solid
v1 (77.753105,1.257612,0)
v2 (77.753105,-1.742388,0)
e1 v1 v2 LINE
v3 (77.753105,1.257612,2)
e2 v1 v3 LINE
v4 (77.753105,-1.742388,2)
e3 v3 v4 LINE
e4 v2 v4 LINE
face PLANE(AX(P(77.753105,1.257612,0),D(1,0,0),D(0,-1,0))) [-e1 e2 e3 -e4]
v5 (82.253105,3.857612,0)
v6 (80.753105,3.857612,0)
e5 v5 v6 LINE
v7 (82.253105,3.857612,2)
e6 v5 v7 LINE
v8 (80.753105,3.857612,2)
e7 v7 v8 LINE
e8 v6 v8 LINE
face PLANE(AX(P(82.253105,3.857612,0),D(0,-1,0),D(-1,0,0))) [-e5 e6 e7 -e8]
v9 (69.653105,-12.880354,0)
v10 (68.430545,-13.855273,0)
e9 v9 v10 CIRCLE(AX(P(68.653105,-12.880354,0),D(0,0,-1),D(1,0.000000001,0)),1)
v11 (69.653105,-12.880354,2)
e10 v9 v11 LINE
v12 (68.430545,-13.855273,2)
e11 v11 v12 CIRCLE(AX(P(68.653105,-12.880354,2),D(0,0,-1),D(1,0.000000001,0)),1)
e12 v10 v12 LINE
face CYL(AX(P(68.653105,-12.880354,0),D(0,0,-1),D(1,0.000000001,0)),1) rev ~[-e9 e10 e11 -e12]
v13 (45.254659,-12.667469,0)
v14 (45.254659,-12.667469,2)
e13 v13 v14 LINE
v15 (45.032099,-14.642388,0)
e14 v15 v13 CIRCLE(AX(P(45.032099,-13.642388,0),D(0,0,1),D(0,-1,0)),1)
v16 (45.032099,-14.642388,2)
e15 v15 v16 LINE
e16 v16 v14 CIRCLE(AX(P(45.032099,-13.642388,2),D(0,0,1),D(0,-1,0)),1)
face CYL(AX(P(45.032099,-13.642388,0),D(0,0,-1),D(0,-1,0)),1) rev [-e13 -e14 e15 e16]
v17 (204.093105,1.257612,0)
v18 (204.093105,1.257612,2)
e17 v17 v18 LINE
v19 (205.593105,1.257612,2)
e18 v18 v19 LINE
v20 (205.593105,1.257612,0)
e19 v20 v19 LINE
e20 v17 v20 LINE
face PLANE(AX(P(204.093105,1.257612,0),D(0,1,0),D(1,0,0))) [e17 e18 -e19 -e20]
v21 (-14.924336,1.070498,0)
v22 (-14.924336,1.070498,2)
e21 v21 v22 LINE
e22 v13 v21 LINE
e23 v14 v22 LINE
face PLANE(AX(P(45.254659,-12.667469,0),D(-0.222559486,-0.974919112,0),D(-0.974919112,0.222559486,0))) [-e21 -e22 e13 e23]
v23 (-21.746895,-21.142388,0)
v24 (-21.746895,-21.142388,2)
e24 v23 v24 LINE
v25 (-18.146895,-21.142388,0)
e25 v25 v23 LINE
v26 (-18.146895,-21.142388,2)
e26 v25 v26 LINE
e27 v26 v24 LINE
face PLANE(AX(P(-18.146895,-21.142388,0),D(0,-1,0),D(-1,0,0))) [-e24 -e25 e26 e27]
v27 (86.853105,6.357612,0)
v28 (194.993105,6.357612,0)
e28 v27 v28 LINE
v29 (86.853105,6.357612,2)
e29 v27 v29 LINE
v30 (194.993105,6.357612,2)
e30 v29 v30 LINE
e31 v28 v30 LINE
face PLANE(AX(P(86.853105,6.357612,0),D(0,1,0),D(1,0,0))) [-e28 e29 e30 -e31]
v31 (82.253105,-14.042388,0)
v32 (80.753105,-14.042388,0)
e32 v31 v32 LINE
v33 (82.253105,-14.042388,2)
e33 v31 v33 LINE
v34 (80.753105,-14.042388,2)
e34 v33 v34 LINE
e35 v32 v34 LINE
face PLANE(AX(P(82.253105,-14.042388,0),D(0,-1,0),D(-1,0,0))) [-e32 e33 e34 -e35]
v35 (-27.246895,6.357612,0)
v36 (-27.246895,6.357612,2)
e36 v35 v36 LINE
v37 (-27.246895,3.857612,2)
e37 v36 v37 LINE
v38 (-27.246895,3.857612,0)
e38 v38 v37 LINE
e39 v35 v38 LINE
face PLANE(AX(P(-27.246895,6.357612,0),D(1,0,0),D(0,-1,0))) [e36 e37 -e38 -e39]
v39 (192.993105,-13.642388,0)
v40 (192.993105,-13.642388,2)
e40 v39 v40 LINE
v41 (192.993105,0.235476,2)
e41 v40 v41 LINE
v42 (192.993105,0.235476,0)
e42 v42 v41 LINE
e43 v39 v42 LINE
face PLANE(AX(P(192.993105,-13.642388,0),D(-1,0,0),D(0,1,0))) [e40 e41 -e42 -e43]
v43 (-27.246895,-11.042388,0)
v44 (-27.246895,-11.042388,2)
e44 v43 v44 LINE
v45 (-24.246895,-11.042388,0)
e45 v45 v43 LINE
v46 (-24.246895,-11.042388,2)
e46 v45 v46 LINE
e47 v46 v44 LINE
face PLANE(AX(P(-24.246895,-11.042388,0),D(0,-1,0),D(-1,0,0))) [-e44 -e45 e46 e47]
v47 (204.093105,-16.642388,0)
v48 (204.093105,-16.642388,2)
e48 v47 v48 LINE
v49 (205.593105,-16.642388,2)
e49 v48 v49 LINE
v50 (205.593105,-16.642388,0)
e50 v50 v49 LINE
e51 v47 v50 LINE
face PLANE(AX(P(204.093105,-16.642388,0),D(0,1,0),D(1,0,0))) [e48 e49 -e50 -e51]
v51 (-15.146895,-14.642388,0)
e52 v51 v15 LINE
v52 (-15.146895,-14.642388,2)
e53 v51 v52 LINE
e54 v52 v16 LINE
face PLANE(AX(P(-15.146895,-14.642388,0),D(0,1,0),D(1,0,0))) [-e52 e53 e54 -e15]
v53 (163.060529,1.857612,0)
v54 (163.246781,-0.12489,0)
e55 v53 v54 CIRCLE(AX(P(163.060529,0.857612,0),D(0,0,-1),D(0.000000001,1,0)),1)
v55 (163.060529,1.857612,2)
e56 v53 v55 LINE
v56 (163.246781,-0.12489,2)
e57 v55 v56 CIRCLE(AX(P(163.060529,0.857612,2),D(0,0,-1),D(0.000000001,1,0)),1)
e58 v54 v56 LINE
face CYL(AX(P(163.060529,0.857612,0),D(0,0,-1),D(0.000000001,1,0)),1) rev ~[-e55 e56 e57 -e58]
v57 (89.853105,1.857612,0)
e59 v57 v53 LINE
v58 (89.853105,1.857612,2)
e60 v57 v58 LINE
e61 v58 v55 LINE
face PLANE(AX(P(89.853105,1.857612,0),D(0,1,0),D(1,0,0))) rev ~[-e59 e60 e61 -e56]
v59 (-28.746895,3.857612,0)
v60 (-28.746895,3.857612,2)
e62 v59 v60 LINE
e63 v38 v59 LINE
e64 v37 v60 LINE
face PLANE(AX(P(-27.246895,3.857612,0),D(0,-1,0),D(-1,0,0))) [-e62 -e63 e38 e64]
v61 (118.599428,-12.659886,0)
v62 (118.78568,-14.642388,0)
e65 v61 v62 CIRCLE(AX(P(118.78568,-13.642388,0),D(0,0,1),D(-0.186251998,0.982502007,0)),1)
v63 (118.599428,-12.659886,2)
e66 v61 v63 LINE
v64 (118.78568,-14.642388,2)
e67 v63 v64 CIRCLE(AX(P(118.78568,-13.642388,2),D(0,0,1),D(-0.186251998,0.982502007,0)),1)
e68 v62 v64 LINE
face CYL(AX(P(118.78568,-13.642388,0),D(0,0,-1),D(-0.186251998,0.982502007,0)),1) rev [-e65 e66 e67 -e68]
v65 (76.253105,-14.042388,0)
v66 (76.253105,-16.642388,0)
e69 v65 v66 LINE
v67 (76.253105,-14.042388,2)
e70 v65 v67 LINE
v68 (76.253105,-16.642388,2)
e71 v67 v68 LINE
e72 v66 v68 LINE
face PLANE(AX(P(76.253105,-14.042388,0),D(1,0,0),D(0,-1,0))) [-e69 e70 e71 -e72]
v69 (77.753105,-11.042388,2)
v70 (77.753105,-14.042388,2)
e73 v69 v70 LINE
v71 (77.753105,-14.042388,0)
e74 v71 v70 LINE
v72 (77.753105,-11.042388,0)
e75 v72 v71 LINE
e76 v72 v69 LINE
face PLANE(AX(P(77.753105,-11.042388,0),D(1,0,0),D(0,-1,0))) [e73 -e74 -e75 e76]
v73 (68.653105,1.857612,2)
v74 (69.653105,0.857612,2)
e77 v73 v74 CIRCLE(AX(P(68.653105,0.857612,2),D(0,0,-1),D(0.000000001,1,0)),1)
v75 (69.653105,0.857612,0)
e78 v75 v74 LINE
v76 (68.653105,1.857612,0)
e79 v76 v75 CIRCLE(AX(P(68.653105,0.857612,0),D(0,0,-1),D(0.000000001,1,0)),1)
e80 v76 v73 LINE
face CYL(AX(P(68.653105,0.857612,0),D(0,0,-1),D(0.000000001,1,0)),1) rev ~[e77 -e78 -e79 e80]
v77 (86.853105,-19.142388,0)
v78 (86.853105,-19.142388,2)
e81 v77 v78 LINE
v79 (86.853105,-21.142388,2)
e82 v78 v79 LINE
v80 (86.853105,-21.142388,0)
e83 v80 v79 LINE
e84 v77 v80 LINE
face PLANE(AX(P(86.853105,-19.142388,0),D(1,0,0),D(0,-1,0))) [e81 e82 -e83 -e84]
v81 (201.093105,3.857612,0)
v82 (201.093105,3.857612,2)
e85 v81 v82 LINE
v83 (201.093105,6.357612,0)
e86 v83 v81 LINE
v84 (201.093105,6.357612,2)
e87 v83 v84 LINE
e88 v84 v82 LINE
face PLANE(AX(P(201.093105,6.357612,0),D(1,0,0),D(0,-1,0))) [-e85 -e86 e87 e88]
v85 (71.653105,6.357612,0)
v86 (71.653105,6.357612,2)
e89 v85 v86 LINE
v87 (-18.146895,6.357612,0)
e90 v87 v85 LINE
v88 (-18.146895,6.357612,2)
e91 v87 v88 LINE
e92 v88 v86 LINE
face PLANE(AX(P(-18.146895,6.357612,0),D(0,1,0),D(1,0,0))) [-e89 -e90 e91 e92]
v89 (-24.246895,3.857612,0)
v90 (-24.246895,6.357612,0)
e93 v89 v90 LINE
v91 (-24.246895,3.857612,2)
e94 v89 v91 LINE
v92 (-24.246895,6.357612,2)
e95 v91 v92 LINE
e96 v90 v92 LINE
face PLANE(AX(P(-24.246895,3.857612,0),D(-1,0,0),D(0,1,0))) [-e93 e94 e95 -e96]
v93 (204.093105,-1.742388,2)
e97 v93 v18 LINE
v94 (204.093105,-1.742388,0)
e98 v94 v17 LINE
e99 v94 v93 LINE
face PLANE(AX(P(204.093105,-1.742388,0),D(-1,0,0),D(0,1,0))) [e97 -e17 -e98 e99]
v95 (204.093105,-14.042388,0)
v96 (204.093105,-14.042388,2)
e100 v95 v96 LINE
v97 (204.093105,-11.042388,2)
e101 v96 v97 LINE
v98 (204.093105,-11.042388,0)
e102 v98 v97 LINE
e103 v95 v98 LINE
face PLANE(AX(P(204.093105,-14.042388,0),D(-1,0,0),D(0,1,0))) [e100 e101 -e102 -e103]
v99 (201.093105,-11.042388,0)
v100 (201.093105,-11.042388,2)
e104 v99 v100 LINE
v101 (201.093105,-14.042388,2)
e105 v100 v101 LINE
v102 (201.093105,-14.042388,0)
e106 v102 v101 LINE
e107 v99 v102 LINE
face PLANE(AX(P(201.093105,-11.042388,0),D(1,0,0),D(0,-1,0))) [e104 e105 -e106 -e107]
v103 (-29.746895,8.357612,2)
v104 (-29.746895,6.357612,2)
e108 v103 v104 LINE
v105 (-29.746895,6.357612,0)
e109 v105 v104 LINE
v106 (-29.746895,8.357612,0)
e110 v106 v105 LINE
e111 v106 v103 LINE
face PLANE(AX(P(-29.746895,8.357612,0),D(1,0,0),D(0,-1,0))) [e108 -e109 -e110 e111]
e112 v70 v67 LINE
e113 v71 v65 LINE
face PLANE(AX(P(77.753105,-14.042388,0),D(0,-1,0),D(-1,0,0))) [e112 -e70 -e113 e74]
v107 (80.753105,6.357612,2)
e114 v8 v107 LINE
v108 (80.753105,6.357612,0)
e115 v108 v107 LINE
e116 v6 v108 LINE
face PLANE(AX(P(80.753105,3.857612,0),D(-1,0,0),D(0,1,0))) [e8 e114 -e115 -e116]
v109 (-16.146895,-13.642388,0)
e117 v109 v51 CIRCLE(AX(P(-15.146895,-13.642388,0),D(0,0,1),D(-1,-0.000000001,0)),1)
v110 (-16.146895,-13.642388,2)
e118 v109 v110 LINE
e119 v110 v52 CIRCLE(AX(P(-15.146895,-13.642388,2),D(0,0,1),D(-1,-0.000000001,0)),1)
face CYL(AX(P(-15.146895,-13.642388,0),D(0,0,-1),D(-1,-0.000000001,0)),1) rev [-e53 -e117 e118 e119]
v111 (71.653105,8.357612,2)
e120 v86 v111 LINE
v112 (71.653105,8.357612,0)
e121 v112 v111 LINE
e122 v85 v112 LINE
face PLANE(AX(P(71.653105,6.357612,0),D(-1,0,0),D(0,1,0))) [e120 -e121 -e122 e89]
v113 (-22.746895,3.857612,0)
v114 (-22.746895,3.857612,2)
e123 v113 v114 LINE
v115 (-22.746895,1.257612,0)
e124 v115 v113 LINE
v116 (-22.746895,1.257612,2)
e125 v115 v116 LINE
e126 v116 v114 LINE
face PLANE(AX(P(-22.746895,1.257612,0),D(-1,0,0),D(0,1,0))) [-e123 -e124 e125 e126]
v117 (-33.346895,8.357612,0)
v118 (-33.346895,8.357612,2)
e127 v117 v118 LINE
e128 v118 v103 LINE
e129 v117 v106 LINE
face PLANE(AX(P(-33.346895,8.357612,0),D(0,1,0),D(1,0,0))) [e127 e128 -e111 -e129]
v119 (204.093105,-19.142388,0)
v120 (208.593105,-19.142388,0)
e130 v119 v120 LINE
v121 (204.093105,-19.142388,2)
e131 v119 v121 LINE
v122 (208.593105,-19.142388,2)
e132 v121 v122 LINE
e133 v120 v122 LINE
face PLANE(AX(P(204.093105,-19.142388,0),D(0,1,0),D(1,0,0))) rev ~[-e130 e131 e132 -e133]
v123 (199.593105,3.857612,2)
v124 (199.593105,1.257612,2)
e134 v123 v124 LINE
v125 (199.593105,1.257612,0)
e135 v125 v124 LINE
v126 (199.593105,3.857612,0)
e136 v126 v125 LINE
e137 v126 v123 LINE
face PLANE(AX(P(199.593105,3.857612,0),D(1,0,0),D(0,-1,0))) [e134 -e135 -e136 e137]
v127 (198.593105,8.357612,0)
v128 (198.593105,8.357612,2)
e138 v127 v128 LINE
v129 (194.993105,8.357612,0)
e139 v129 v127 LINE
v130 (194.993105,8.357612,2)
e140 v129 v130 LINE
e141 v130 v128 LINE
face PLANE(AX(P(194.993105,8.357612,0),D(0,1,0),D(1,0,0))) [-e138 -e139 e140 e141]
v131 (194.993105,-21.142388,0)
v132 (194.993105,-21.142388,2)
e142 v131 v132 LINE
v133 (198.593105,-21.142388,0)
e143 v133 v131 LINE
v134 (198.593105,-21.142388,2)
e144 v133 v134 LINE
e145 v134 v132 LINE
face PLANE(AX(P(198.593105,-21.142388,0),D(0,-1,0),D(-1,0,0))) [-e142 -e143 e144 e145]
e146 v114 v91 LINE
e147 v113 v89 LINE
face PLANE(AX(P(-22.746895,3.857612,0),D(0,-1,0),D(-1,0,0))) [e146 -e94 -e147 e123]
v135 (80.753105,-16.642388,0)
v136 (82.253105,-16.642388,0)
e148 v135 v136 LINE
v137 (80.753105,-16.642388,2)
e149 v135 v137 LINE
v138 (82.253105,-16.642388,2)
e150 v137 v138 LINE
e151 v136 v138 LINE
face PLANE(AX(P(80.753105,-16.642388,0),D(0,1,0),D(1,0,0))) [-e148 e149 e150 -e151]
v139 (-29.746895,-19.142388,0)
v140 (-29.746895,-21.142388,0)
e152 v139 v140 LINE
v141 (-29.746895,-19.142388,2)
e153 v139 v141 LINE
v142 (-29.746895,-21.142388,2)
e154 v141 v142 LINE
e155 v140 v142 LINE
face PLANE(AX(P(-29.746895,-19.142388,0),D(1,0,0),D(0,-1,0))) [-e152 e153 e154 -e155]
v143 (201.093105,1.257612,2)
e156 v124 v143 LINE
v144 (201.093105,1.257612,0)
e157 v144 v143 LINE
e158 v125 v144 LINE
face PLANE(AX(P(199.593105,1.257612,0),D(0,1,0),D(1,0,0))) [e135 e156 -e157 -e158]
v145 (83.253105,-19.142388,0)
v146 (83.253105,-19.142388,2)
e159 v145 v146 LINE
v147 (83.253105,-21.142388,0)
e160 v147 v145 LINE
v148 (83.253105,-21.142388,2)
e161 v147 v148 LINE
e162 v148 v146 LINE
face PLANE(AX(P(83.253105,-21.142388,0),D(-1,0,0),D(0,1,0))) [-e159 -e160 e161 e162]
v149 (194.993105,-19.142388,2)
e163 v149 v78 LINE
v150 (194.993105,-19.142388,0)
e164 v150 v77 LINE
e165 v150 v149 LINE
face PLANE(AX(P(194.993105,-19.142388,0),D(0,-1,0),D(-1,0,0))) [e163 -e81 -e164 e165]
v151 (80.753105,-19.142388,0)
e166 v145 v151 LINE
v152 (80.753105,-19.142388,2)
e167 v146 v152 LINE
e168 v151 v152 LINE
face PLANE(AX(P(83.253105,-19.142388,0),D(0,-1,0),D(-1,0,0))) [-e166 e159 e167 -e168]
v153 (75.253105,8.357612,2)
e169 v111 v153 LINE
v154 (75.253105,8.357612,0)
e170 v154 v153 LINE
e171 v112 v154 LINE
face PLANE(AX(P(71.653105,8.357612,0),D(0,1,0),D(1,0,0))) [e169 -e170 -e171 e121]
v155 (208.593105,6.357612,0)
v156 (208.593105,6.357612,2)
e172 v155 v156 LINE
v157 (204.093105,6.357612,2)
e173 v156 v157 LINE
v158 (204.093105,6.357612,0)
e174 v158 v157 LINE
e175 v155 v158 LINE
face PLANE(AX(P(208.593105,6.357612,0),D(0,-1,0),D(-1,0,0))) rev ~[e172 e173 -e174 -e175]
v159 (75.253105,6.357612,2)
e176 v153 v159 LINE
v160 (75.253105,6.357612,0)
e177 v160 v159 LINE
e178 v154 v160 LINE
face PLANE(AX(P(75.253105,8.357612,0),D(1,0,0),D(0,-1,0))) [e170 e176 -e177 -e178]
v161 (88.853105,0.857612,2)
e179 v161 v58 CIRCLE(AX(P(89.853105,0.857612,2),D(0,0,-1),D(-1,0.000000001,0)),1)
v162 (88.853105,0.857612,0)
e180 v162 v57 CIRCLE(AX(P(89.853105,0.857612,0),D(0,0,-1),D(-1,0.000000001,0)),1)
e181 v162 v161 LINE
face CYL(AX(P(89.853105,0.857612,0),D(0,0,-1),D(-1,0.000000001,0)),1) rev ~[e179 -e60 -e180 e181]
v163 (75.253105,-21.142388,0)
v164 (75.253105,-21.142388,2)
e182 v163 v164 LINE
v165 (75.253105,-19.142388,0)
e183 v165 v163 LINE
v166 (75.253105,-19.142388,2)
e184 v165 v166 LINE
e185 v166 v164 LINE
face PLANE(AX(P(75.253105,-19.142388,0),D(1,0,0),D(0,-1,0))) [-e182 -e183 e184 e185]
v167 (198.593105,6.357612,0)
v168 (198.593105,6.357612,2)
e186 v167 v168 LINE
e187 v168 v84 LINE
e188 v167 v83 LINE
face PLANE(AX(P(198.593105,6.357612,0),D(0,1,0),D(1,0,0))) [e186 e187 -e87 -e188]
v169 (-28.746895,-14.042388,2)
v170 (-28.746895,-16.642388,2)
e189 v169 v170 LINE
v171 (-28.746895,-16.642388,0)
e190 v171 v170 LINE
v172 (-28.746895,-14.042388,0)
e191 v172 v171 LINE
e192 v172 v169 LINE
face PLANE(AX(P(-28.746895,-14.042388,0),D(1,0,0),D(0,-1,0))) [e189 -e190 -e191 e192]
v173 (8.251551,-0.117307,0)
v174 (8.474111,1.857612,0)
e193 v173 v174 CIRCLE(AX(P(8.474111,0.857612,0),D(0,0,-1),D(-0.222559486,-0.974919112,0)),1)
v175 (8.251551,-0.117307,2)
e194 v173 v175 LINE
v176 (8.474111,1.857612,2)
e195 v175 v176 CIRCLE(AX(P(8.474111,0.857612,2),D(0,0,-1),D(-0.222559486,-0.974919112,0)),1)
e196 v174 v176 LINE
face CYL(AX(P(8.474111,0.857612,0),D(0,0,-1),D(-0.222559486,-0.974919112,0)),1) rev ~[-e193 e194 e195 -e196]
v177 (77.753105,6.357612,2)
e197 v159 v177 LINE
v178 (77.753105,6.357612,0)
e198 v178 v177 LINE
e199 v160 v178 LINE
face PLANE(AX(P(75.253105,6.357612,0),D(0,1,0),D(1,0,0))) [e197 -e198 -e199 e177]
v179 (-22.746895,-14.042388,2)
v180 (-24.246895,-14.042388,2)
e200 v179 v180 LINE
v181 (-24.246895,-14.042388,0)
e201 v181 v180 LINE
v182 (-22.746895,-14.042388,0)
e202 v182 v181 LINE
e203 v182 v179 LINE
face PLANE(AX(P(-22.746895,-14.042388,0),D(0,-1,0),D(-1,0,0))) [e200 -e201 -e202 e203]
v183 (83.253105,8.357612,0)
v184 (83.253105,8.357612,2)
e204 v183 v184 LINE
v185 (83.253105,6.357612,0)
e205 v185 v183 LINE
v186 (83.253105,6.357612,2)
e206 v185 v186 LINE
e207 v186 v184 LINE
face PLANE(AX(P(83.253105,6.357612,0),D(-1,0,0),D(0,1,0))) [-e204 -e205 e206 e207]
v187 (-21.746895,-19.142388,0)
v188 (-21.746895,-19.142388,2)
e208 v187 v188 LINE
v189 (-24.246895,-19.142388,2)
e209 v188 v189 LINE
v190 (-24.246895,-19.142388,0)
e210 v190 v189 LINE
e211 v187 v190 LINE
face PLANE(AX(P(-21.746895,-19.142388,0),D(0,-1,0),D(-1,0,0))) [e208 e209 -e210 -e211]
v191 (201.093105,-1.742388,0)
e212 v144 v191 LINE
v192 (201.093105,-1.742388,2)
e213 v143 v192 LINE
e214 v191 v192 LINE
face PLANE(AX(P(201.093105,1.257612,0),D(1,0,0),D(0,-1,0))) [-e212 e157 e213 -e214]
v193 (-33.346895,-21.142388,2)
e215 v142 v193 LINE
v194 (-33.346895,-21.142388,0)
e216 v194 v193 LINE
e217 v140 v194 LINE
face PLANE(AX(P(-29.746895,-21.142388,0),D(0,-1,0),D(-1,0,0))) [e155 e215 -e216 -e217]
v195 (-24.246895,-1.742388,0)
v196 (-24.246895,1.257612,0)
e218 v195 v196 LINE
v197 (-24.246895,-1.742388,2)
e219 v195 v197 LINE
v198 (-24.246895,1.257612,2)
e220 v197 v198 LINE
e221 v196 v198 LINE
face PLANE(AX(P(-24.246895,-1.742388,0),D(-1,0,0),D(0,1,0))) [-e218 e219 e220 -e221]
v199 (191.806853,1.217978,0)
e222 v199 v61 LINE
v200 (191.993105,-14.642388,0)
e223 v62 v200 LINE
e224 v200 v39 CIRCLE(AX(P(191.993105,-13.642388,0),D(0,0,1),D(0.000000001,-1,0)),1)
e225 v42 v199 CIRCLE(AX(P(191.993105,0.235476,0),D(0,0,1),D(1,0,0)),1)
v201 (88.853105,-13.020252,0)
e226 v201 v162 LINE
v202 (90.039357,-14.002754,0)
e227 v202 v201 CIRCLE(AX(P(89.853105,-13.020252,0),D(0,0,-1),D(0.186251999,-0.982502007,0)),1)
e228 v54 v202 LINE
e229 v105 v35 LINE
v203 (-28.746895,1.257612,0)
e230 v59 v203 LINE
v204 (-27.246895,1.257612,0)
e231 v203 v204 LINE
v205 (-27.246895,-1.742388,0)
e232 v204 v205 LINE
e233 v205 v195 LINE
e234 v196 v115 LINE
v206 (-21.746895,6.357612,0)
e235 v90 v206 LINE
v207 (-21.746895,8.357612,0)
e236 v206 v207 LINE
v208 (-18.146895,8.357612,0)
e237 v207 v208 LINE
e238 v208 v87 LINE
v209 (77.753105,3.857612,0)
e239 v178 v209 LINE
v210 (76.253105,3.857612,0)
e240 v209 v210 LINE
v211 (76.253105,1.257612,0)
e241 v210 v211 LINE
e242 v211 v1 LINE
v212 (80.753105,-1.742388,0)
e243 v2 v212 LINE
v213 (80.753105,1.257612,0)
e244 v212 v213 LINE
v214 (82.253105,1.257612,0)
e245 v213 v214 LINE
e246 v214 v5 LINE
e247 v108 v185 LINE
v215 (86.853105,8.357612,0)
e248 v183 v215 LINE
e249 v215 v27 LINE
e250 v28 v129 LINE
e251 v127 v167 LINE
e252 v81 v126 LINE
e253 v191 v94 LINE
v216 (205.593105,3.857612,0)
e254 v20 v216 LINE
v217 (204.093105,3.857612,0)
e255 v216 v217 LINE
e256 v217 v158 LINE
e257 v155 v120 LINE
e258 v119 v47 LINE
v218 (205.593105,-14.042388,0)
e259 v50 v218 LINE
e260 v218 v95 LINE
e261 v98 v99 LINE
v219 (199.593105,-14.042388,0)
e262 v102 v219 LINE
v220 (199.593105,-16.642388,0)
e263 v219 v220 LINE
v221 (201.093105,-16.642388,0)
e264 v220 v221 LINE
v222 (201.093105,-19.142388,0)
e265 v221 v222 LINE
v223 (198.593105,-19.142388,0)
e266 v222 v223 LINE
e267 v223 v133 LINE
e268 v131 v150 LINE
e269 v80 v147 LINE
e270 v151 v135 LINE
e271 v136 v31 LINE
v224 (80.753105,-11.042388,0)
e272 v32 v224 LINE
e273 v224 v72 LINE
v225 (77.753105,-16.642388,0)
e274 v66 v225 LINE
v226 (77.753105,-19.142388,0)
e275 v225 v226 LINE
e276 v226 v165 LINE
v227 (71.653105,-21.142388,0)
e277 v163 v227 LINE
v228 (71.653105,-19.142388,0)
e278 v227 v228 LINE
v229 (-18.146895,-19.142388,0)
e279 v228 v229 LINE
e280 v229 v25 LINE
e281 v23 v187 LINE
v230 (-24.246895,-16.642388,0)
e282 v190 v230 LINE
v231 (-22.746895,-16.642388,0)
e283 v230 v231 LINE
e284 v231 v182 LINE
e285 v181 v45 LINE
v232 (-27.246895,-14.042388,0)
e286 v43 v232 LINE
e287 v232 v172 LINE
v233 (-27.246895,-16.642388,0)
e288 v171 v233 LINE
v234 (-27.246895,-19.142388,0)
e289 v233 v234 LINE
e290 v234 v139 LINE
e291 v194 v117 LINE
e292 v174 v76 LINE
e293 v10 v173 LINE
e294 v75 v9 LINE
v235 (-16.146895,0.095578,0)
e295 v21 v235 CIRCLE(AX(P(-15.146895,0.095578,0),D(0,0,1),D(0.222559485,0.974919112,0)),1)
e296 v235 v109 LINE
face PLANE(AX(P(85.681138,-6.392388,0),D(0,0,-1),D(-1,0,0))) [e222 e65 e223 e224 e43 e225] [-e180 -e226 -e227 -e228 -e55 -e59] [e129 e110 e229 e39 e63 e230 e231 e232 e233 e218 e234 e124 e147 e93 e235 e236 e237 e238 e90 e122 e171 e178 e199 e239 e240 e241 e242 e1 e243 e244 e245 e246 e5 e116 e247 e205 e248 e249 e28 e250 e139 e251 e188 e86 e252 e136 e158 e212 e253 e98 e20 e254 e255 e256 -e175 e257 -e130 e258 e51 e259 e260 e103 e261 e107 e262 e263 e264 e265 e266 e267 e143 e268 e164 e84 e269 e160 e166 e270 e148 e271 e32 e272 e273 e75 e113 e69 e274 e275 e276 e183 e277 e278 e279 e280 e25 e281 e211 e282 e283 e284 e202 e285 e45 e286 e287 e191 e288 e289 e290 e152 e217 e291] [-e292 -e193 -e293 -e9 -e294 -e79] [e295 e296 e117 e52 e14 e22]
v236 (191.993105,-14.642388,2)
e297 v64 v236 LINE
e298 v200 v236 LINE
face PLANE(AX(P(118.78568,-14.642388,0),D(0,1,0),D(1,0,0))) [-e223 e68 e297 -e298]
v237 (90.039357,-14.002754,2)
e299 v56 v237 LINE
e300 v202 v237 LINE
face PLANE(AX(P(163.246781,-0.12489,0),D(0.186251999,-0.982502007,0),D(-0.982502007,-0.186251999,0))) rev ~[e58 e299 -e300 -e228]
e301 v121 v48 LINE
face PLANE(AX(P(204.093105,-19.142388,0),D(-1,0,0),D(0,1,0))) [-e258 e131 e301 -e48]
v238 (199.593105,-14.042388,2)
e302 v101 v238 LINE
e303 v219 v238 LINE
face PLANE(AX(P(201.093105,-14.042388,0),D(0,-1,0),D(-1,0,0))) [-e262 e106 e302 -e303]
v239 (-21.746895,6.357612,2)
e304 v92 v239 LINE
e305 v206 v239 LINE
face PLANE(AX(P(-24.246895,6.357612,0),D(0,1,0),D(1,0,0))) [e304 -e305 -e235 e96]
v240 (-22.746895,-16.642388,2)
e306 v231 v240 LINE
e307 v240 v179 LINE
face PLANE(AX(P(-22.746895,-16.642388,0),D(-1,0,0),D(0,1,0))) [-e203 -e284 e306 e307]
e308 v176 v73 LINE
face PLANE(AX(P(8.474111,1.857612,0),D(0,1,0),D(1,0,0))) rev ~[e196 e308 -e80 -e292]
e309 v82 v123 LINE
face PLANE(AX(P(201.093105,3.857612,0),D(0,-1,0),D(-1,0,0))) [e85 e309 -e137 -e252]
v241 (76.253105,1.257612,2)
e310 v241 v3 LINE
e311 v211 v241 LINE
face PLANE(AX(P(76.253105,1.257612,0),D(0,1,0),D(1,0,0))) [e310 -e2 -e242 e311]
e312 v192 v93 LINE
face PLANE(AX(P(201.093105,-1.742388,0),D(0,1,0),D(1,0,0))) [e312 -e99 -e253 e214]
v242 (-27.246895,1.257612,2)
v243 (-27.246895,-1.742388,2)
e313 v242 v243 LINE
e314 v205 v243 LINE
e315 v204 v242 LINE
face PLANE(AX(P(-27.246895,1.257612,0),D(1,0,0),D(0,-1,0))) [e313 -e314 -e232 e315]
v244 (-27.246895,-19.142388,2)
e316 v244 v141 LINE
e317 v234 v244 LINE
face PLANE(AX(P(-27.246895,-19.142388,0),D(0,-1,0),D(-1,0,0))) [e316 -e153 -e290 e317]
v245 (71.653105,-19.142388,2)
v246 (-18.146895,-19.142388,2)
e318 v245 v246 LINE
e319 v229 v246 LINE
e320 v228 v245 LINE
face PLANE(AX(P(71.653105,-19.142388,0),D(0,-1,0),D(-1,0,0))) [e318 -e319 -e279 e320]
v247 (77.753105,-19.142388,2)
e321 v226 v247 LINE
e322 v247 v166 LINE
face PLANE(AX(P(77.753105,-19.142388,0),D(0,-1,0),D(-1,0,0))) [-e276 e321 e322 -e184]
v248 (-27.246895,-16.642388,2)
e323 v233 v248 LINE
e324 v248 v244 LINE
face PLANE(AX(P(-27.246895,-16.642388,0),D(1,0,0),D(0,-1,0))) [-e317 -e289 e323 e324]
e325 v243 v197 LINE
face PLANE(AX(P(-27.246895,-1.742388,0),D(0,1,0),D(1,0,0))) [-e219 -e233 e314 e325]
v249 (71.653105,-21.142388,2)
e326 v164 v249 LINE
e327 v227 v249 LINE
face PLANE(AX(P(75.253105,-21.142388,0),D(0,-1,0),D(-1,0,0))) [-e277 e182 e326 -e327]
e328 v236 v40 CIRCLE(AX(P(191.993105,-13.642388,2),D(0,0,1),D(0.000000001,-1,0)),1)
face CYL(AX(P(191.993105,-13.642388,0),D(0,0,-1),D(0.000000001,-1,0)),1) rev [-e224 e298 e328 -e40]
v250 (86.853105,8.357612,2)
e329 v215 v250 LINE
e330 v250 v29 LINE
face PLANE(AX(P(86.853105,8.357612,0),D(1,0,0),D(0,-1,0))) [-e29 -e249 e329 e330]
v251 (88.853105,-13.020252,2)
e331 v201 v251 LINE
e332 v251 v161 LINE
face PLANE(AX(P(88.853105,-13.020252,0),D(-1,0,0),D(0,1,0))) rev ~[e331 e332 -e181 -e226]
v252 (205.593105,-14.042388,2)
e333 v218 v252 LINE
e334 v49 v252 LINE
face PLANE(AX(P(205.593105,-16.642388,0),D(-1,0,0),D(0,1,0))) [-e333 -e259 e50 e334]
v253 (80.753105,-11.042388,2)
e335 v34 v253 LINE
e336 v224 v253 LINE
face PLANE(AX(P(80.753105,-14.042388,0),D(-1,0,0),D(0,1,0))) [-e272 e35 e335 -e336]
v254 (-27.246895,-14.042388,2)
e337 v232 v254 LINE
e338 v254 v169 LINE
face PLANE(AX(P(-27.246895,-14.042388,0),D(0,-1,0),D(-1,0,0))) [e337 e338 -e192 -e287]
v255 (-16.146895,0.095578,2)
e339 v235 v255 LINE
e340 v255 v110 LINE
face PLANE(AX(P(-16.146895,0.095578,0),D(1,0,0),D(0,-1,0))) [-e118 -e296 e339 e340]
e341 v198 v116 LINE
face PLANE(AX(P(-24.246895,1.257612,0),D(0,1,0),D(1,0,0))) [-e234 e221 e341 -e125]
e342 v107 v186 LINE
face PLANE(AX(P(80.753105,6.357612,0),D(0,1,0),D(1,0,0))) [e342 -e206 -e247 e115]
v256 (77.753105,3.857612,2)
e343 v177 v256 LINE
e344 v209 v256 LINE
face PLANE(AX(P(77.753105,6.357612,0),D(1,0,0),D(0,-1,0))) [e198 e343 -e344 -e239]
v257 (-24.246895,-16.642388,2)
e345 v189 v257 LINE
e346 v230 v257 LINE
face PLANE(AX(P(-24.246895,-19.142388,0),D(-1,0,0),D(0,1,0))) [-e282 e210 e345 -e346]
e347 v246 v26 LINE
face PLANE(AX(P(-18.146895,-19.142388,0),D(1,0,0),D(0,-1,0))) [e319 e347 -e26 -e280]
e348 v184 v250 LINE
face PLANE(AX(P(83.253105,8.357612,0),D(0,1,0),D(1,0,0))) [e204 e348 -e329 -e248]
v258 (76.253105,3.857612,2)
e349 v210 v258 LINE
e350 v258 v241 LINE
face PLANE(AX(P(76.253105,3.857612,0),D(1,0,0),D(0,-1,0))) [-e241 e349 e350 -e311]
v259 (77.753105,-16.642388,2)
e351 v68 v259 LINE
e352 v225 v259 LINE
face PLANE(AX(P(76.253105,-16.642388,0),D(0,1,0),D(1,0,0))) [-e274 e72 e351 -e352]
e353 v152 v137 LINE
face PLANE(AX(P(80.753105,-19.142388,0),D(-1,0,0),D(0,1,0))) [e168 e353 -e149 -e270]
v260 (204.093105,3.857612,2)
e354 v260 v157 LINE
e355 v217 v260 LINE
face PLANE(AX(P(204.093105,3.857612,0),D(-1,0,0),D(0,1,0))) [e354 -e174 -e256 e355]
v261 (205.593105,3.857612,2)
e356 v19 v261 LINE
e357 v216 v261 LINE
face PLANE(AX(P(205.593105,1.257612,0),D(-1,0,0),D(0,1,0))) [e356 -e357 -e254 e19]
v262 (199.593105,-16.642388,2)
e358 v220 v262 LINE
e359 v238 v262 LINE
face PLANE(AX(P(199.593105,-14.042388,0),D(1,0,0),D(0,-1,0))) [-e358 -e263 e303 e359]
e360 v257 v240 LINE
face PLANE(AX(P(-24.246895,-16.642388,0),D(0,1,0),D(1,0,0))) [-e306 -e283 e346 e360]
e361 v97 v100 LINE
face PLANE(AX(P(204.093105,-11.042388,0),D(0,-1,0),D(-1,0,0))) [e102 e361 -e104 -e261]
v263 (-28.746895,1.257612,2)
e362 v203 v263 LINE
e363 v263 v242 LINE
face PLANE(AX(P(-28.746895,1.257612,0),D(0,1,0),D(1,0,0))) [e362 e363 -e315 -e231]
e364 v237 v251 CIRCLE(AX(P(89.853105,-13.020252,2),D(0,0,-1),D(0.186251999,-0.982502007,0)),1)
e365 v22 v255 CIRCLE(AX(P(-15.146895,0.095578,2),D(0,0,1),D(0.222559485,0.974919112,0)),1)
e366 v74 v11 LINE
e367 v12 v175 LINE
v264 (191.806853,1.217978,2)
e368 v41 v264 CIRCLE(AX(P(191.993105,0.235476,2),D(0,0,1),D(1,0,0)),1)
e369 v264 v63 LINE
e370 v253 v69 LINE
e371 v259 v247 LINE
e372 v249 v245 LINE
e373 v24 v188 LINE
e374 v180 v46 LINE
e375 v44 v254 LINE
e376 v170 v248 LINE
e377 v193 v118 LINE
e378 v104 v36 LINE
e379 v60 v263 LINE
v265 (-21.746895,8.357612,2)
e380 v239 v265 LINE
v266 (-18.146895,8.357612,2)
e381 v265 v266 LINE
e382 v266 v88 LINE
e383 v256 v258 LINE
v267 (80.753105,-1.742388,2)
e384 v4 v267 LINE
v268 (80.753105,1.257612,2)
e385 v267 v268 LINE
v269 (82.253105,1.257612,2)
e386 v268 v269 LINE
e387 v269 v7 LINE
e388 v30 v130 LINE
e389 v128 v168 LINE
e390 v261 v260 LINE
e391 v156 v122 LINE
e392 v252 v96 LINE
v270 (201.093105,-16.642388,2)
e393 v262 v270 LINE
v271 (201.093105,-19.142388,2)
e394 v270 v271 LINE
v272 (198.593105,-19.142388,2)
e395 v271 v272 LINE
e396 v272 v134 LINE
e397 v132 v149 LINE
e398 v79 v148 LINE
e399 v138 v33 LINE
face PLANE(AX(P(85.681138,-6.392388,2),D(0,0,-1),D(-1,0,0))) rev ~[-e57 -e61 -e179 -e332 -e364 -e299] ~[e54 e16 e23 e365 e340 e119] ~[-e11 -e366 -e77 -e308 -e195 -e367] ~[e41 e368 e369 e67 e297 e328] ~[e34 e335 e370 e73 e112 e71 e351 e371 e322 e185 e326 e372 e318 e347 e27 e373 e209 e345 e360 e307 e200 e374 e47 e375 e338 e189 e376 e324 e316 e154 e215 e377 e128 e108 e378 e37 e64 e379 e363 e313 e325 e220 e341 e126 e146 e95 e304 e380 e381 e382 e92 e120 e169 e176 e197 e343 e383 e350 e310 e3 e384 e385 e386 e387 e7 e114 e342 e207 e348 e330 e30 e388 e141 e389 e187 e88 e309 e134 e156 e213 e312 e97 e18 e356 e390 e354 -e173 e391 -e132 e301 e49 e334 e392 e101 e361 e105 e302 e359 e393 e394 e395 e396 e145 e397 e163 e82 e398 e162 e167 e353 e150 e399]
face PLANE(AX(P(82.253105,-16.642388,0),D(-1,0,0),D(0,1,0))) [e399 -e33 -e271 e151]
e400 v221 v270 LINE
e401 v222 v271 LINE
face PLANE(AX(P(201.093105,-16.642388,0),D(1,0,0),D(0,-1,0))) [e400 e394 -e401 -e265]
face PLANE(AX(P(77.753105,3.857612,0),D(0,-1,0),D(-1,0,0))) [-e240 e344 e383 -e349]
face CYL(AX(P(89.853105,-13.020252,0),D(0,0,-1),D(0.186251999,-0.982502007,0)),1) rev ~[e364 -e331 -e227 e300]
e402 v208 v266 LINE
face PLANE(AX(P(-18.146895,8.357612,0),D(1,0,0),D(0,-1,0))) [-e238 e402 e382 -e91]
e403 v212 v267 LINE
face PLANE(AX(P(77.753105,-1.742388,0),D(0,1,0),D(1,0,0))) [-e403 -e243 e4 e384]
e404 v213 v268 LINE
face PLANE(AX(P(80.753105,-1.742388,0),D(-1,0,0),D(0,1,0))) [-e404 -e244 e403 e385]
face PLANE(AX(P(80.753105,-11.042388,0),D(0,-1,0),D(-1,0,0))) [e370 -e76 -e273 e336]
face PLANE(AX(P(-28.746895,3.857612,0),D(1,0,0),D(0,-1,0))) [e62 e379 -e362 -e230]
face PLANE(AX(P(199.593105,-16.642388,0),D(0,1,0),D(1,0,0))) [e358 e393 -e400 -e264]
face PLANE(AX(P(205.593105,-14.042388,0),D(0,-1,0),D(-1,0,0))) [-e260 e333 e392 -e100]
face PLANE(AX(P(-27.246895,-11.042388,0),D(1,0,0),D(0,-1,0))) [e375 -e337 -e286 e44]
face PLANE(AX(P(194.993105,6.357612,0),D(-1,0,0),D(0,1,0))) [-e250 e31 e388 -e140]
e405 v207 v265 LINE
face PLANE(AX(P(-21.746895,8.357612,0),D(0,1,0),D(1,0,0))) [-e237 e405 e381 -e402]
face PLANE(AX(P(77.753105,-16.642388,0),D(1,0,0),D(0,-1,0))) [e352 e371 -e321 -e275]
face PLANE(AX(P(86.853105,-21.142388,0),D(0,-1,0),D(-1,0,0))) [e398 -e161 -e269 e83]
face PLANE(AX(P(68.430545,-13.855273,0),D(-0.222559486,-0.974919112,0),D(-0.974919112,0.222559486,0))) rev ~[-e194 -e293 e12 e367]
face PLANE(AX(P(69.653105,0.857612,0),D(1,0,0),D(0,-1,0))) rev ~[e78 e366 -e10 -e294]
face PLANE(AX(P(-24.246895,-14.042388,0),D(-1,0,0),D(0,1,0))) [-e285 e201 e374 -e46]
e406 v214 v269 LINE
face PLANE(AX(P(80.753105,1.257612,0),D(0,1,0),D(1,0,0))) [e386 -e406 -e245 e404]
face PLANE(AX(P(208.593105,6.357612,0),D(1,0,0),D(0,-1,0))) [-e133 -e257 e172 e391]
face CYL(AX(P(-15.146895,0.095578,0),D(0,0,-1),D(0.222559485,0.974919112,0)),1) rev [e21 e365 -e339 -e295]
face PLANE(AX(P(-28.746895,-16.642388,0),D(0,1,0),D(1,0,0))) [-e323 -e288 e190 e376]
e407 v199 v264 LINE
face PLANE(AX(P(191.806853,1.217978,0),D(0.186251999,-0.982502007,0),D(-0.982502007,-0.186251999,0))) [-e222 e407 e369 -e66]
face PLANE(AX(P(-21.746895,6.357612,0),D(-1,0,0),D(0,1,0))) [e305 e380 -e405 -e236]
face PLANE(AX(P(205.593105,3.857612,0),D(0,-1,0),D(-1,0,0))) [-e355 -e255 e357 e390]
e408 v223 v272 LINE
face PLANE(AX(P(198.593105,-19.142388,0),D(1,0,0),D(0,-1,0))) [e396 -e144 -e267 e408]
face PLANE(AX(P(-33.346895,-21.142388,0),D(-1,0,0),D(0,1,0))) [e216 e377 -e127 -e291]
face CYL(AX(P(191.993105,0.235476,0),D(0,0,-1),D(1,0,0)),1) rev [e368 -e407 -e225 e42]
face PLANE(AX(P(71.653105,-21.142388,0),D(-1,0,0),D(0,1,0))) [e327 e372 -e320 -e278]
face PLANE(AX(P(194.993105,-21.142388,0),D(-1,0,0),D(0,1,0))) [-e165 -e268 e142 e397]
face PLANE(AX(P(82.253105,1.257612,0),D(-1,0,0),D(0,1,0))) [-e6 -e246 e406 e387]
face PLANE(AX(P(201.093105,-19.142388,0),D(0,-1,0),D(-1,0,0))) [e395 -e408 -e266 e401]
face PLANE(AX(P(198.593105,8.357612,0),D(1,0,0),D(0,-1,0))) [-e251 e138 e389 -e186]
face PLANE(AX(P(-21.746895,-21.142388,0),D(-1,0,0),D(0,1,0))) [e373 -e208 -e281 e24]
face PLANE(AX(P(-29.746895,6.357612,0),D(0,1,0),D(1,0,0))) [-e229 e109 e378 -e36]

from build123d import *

# Parameters (mm, degrees)
EXTRUDE_1_DEPTH = 2


with BuildPart() as part:
    # 草图2 → 凸台-拉伸1 (new body)
    with BuildSketch(Plane.XY):
        Polygon((-24.246895077, 6.357612039), (-21.746895077, 6.357612039), (-21.746895077, 8.357612039), (-18.146895077, 8.357612039), (-18.146895077, 6.357612039), (71.653104923, 6.357612039), (71.653104923, 8.357612039), (75.253104923, 8.357612039), (75.253104923, 6.357612039), (77.753104923, 6.357612039), (77.753104923, 3.857612039), (76.253104923, 3.857612039), (76.253104923, 1.257612039), (77.753104923, 1.257612039), (77.753104923, -1.742387961), (80.753104923, -1.742387961), (80.753104923, 1.257612039), (82.253104923, 1.257612039), (82.253104923, 3.857612039), (80.753104923, 3.857612039), (80.753104923, 6.357612039), (83.253104923, 6.357612039), (83.253104923, 8.357612039), (86.853104923, 8.357612039), (86.853104923, 6.357612039), (194.993104923, 6.357612039), (194.993104923, 8.357612039), (198.593104923, 8.357612039), (198.593104923, 6.357612039), (201.093104923, 6.357612039), (201.093104923, 3.857612039), (199.593104923, 3.857612039), (199.593104923, 1.257612039), (201.093104923, 1.257612039), (201.093104923, -1.742387961), (204.093104923, -1.742387961), (204.093104923, 1.257612039), (205.593104923, 1.257612039), (205.593104923, 3.857612039), (204.093104923, 3.857612039), (204.093104923, 6.357612039), (206.593104923, 6.357612039), (208.593104923, 6.357612039), (208.593104923, -19.142387961), (206.593104923, -19.142387961), (204.093104923, -19.142387961), (204.093104923, -16.642387961), (205.593104923, -16.642387961), (205.593104923, -14.042387961), (204.093104923, -14.042387961), (204.093104923, -11.042387961), (201.093104923, -11.042387961), (201.093104923, -14.042387961), (199.593104923, -14.042387961), (199.593104923, -16.642387961), (201.093104923, -16.642387961), (201.093104923, -19.142387961), (198.593104923, -19.142387961), (198.593104923, -21.142387961), (194.993104923, -21.142387961), (194.993104923, -19.142387961), (86.853104923, -19.142387961), (86.853104923, -21.142387961), (83.253104923, -21.142387961), (83.253104923, -19.142387961), (80.753104923, -19.142387961), (80.753104923, -16.642387961), (82.253104923, -16.642387961), (82.253104923, -14.042387961), (80.753104923, -14.042387961), (80.753104923, -11.042387961), (77.753104923, -11.042387961), (77.753104923, -14.042387961), (76.253104923, -14.042387961), (76.253104923, -16.642387961), (77.753104923, -16.642387961), (77.753104923, -19.142387961), (75.253104923, -19.142387961), (75.253104923, -21.142387961), (71.653104923, -21.142387961), (71.653104923, -19.142387961), (-18.146895077, -19.142387961), (-18.146895077, -21.142387961), (-21.746895077, -21.142387961), (-21.746895077, -19.142387961), (-24.246895077, -19.142387961), (-24.246895077, -16.642387961), (-22.746895077, -16.642387961), (-22.746895077, -14.042387961), (-24.246895077, -14.042387961), (-24.246895077, -11.042387961), (-27.246895077, -11.042387961), (-27.246895077, -14.042387961), (-28.746895077, -14.042387961), (-28.746895077, -16.642387961), (-27.246895077, -16.642387961), (-27.246895077, -19.142387961), (-29.746895077, -19.142387961), (-29.746895077, -21.142387961), (-33.346895077, -21.142387961), (-33.346895077, 8.357612039), (-29.746895077, 8.357612039), (-29.746895077, 6.357612039), (-27.246895077, 6.357612039), (-27.246895077, 3.857612039), (-28.746895077, 3.857612039), (-28.746895077, 1.257612039), (-27.246895077, 1.257612039), (-27.246895077, -1.742387961), (-24.246895077, -1.742387961), (-24.246895077, 1.257612039), (-22.746895077, 1.257612039), (-22.746895077, 3.857612039), (-24.246895077, 3.857612039), align=None)
        with BuildLine():
            Line((8.47411064, 1.857612039), (68.653104923, 1.857612039))
            ThreePointArc((68.653104923, 1.857612039), (69.360211704, 1.56471882), (69.653104923, 0.857612039))
            Line((69.653104923, 0.857612039), (69.653104923, -12.880354362))
            ThreePointArc((69.653104923, -12.880354362), (69.276579267, -13.662198172), (68.430545438, -13.855273474))
            Line((68.430545438, -13.855273474), (8.251551154, -0.117307073))
            ThreePointArc((8.251551154, -0.117307073), (7.480400644, 0.969596162), (8.47411064, 1.857612039))
        make_face(mode=Mode.SUBTRACT)
        with BuildLine():
            Line((89.853104923, 1.857612039), (163.060529367, 1.857612039))
            ThreePointArc((163.060529367, 1.857612039), (164.056145258, 0.95114811), (163.246781366, -0.124889968))
            Line((163.246781366, -0.124889968), (90.039356922, -14.002753858))
            ThreePointArc((90.039356922, -14.002753858), (89.215238165, -13.79039859), (88.853104923, -13.020251852))
            Line((88.853104923, -13.020251852), (88.853104923, 0.857612039))
            ThreePointArc((88.853104923, 0.857612039), (89.145998142, 1.56471882), (89.853104923, 1.857612039))
        make_face(mode=Mode.SUBTRACT)
        with BuildLine():
            Line((118.785680479, -14.642387961), (191.993104923, -14.642387961))
            ThreePointArc((191.993104923, -14.642387961), (192.700211704, -14.349494742), (192.993104923, -13.642387961))
            Line((192.993104923, -13.642387961), (192.993104923, 0.235475929))
            ThreePointArc((192.993104923, 0.235475929), (192.630971681, 1.005622668), (191.806852924, 1.217977936))
            Line((191.806852924, 1.217977936), (118.599428481, -12.659885955))
            ThreePointArc((118.599428481, -12.659885955), (117.790064588, -13.735924033), (118.785680479, -14.642387961))
        make_face(mode=Mode.SUBTRACT)
        with BuildLine():
            Line((-16.146895077, 0.09557844), (-16.146895077, -13.642387961))
            ThreePointArc((-16.146895077, -13.642387961), (-15.854001858, -14.349494742), (-15.146895077, -14.642387961))
            Line((-15.146895077, -14.642387961), (45.032099206, -14.642387961))
            ThreePointArc((45.032099206, -14.642387961), (46.025809202, -13.754372085), (45.254658692, -12.667468849))
            Line((45.254658692, -12.667468849), (-14.924335591, 1.070497552))
            ThreePointArc((-14.924335591, 1.070497552), (-15.770369421, 0.877422249), (-16.146895077, 0.09557844))
        make_face(mode=Mode.SUBTRACT)
    extrude(amount=EXTRUDE_1_DEPTH)


solid = part.part
